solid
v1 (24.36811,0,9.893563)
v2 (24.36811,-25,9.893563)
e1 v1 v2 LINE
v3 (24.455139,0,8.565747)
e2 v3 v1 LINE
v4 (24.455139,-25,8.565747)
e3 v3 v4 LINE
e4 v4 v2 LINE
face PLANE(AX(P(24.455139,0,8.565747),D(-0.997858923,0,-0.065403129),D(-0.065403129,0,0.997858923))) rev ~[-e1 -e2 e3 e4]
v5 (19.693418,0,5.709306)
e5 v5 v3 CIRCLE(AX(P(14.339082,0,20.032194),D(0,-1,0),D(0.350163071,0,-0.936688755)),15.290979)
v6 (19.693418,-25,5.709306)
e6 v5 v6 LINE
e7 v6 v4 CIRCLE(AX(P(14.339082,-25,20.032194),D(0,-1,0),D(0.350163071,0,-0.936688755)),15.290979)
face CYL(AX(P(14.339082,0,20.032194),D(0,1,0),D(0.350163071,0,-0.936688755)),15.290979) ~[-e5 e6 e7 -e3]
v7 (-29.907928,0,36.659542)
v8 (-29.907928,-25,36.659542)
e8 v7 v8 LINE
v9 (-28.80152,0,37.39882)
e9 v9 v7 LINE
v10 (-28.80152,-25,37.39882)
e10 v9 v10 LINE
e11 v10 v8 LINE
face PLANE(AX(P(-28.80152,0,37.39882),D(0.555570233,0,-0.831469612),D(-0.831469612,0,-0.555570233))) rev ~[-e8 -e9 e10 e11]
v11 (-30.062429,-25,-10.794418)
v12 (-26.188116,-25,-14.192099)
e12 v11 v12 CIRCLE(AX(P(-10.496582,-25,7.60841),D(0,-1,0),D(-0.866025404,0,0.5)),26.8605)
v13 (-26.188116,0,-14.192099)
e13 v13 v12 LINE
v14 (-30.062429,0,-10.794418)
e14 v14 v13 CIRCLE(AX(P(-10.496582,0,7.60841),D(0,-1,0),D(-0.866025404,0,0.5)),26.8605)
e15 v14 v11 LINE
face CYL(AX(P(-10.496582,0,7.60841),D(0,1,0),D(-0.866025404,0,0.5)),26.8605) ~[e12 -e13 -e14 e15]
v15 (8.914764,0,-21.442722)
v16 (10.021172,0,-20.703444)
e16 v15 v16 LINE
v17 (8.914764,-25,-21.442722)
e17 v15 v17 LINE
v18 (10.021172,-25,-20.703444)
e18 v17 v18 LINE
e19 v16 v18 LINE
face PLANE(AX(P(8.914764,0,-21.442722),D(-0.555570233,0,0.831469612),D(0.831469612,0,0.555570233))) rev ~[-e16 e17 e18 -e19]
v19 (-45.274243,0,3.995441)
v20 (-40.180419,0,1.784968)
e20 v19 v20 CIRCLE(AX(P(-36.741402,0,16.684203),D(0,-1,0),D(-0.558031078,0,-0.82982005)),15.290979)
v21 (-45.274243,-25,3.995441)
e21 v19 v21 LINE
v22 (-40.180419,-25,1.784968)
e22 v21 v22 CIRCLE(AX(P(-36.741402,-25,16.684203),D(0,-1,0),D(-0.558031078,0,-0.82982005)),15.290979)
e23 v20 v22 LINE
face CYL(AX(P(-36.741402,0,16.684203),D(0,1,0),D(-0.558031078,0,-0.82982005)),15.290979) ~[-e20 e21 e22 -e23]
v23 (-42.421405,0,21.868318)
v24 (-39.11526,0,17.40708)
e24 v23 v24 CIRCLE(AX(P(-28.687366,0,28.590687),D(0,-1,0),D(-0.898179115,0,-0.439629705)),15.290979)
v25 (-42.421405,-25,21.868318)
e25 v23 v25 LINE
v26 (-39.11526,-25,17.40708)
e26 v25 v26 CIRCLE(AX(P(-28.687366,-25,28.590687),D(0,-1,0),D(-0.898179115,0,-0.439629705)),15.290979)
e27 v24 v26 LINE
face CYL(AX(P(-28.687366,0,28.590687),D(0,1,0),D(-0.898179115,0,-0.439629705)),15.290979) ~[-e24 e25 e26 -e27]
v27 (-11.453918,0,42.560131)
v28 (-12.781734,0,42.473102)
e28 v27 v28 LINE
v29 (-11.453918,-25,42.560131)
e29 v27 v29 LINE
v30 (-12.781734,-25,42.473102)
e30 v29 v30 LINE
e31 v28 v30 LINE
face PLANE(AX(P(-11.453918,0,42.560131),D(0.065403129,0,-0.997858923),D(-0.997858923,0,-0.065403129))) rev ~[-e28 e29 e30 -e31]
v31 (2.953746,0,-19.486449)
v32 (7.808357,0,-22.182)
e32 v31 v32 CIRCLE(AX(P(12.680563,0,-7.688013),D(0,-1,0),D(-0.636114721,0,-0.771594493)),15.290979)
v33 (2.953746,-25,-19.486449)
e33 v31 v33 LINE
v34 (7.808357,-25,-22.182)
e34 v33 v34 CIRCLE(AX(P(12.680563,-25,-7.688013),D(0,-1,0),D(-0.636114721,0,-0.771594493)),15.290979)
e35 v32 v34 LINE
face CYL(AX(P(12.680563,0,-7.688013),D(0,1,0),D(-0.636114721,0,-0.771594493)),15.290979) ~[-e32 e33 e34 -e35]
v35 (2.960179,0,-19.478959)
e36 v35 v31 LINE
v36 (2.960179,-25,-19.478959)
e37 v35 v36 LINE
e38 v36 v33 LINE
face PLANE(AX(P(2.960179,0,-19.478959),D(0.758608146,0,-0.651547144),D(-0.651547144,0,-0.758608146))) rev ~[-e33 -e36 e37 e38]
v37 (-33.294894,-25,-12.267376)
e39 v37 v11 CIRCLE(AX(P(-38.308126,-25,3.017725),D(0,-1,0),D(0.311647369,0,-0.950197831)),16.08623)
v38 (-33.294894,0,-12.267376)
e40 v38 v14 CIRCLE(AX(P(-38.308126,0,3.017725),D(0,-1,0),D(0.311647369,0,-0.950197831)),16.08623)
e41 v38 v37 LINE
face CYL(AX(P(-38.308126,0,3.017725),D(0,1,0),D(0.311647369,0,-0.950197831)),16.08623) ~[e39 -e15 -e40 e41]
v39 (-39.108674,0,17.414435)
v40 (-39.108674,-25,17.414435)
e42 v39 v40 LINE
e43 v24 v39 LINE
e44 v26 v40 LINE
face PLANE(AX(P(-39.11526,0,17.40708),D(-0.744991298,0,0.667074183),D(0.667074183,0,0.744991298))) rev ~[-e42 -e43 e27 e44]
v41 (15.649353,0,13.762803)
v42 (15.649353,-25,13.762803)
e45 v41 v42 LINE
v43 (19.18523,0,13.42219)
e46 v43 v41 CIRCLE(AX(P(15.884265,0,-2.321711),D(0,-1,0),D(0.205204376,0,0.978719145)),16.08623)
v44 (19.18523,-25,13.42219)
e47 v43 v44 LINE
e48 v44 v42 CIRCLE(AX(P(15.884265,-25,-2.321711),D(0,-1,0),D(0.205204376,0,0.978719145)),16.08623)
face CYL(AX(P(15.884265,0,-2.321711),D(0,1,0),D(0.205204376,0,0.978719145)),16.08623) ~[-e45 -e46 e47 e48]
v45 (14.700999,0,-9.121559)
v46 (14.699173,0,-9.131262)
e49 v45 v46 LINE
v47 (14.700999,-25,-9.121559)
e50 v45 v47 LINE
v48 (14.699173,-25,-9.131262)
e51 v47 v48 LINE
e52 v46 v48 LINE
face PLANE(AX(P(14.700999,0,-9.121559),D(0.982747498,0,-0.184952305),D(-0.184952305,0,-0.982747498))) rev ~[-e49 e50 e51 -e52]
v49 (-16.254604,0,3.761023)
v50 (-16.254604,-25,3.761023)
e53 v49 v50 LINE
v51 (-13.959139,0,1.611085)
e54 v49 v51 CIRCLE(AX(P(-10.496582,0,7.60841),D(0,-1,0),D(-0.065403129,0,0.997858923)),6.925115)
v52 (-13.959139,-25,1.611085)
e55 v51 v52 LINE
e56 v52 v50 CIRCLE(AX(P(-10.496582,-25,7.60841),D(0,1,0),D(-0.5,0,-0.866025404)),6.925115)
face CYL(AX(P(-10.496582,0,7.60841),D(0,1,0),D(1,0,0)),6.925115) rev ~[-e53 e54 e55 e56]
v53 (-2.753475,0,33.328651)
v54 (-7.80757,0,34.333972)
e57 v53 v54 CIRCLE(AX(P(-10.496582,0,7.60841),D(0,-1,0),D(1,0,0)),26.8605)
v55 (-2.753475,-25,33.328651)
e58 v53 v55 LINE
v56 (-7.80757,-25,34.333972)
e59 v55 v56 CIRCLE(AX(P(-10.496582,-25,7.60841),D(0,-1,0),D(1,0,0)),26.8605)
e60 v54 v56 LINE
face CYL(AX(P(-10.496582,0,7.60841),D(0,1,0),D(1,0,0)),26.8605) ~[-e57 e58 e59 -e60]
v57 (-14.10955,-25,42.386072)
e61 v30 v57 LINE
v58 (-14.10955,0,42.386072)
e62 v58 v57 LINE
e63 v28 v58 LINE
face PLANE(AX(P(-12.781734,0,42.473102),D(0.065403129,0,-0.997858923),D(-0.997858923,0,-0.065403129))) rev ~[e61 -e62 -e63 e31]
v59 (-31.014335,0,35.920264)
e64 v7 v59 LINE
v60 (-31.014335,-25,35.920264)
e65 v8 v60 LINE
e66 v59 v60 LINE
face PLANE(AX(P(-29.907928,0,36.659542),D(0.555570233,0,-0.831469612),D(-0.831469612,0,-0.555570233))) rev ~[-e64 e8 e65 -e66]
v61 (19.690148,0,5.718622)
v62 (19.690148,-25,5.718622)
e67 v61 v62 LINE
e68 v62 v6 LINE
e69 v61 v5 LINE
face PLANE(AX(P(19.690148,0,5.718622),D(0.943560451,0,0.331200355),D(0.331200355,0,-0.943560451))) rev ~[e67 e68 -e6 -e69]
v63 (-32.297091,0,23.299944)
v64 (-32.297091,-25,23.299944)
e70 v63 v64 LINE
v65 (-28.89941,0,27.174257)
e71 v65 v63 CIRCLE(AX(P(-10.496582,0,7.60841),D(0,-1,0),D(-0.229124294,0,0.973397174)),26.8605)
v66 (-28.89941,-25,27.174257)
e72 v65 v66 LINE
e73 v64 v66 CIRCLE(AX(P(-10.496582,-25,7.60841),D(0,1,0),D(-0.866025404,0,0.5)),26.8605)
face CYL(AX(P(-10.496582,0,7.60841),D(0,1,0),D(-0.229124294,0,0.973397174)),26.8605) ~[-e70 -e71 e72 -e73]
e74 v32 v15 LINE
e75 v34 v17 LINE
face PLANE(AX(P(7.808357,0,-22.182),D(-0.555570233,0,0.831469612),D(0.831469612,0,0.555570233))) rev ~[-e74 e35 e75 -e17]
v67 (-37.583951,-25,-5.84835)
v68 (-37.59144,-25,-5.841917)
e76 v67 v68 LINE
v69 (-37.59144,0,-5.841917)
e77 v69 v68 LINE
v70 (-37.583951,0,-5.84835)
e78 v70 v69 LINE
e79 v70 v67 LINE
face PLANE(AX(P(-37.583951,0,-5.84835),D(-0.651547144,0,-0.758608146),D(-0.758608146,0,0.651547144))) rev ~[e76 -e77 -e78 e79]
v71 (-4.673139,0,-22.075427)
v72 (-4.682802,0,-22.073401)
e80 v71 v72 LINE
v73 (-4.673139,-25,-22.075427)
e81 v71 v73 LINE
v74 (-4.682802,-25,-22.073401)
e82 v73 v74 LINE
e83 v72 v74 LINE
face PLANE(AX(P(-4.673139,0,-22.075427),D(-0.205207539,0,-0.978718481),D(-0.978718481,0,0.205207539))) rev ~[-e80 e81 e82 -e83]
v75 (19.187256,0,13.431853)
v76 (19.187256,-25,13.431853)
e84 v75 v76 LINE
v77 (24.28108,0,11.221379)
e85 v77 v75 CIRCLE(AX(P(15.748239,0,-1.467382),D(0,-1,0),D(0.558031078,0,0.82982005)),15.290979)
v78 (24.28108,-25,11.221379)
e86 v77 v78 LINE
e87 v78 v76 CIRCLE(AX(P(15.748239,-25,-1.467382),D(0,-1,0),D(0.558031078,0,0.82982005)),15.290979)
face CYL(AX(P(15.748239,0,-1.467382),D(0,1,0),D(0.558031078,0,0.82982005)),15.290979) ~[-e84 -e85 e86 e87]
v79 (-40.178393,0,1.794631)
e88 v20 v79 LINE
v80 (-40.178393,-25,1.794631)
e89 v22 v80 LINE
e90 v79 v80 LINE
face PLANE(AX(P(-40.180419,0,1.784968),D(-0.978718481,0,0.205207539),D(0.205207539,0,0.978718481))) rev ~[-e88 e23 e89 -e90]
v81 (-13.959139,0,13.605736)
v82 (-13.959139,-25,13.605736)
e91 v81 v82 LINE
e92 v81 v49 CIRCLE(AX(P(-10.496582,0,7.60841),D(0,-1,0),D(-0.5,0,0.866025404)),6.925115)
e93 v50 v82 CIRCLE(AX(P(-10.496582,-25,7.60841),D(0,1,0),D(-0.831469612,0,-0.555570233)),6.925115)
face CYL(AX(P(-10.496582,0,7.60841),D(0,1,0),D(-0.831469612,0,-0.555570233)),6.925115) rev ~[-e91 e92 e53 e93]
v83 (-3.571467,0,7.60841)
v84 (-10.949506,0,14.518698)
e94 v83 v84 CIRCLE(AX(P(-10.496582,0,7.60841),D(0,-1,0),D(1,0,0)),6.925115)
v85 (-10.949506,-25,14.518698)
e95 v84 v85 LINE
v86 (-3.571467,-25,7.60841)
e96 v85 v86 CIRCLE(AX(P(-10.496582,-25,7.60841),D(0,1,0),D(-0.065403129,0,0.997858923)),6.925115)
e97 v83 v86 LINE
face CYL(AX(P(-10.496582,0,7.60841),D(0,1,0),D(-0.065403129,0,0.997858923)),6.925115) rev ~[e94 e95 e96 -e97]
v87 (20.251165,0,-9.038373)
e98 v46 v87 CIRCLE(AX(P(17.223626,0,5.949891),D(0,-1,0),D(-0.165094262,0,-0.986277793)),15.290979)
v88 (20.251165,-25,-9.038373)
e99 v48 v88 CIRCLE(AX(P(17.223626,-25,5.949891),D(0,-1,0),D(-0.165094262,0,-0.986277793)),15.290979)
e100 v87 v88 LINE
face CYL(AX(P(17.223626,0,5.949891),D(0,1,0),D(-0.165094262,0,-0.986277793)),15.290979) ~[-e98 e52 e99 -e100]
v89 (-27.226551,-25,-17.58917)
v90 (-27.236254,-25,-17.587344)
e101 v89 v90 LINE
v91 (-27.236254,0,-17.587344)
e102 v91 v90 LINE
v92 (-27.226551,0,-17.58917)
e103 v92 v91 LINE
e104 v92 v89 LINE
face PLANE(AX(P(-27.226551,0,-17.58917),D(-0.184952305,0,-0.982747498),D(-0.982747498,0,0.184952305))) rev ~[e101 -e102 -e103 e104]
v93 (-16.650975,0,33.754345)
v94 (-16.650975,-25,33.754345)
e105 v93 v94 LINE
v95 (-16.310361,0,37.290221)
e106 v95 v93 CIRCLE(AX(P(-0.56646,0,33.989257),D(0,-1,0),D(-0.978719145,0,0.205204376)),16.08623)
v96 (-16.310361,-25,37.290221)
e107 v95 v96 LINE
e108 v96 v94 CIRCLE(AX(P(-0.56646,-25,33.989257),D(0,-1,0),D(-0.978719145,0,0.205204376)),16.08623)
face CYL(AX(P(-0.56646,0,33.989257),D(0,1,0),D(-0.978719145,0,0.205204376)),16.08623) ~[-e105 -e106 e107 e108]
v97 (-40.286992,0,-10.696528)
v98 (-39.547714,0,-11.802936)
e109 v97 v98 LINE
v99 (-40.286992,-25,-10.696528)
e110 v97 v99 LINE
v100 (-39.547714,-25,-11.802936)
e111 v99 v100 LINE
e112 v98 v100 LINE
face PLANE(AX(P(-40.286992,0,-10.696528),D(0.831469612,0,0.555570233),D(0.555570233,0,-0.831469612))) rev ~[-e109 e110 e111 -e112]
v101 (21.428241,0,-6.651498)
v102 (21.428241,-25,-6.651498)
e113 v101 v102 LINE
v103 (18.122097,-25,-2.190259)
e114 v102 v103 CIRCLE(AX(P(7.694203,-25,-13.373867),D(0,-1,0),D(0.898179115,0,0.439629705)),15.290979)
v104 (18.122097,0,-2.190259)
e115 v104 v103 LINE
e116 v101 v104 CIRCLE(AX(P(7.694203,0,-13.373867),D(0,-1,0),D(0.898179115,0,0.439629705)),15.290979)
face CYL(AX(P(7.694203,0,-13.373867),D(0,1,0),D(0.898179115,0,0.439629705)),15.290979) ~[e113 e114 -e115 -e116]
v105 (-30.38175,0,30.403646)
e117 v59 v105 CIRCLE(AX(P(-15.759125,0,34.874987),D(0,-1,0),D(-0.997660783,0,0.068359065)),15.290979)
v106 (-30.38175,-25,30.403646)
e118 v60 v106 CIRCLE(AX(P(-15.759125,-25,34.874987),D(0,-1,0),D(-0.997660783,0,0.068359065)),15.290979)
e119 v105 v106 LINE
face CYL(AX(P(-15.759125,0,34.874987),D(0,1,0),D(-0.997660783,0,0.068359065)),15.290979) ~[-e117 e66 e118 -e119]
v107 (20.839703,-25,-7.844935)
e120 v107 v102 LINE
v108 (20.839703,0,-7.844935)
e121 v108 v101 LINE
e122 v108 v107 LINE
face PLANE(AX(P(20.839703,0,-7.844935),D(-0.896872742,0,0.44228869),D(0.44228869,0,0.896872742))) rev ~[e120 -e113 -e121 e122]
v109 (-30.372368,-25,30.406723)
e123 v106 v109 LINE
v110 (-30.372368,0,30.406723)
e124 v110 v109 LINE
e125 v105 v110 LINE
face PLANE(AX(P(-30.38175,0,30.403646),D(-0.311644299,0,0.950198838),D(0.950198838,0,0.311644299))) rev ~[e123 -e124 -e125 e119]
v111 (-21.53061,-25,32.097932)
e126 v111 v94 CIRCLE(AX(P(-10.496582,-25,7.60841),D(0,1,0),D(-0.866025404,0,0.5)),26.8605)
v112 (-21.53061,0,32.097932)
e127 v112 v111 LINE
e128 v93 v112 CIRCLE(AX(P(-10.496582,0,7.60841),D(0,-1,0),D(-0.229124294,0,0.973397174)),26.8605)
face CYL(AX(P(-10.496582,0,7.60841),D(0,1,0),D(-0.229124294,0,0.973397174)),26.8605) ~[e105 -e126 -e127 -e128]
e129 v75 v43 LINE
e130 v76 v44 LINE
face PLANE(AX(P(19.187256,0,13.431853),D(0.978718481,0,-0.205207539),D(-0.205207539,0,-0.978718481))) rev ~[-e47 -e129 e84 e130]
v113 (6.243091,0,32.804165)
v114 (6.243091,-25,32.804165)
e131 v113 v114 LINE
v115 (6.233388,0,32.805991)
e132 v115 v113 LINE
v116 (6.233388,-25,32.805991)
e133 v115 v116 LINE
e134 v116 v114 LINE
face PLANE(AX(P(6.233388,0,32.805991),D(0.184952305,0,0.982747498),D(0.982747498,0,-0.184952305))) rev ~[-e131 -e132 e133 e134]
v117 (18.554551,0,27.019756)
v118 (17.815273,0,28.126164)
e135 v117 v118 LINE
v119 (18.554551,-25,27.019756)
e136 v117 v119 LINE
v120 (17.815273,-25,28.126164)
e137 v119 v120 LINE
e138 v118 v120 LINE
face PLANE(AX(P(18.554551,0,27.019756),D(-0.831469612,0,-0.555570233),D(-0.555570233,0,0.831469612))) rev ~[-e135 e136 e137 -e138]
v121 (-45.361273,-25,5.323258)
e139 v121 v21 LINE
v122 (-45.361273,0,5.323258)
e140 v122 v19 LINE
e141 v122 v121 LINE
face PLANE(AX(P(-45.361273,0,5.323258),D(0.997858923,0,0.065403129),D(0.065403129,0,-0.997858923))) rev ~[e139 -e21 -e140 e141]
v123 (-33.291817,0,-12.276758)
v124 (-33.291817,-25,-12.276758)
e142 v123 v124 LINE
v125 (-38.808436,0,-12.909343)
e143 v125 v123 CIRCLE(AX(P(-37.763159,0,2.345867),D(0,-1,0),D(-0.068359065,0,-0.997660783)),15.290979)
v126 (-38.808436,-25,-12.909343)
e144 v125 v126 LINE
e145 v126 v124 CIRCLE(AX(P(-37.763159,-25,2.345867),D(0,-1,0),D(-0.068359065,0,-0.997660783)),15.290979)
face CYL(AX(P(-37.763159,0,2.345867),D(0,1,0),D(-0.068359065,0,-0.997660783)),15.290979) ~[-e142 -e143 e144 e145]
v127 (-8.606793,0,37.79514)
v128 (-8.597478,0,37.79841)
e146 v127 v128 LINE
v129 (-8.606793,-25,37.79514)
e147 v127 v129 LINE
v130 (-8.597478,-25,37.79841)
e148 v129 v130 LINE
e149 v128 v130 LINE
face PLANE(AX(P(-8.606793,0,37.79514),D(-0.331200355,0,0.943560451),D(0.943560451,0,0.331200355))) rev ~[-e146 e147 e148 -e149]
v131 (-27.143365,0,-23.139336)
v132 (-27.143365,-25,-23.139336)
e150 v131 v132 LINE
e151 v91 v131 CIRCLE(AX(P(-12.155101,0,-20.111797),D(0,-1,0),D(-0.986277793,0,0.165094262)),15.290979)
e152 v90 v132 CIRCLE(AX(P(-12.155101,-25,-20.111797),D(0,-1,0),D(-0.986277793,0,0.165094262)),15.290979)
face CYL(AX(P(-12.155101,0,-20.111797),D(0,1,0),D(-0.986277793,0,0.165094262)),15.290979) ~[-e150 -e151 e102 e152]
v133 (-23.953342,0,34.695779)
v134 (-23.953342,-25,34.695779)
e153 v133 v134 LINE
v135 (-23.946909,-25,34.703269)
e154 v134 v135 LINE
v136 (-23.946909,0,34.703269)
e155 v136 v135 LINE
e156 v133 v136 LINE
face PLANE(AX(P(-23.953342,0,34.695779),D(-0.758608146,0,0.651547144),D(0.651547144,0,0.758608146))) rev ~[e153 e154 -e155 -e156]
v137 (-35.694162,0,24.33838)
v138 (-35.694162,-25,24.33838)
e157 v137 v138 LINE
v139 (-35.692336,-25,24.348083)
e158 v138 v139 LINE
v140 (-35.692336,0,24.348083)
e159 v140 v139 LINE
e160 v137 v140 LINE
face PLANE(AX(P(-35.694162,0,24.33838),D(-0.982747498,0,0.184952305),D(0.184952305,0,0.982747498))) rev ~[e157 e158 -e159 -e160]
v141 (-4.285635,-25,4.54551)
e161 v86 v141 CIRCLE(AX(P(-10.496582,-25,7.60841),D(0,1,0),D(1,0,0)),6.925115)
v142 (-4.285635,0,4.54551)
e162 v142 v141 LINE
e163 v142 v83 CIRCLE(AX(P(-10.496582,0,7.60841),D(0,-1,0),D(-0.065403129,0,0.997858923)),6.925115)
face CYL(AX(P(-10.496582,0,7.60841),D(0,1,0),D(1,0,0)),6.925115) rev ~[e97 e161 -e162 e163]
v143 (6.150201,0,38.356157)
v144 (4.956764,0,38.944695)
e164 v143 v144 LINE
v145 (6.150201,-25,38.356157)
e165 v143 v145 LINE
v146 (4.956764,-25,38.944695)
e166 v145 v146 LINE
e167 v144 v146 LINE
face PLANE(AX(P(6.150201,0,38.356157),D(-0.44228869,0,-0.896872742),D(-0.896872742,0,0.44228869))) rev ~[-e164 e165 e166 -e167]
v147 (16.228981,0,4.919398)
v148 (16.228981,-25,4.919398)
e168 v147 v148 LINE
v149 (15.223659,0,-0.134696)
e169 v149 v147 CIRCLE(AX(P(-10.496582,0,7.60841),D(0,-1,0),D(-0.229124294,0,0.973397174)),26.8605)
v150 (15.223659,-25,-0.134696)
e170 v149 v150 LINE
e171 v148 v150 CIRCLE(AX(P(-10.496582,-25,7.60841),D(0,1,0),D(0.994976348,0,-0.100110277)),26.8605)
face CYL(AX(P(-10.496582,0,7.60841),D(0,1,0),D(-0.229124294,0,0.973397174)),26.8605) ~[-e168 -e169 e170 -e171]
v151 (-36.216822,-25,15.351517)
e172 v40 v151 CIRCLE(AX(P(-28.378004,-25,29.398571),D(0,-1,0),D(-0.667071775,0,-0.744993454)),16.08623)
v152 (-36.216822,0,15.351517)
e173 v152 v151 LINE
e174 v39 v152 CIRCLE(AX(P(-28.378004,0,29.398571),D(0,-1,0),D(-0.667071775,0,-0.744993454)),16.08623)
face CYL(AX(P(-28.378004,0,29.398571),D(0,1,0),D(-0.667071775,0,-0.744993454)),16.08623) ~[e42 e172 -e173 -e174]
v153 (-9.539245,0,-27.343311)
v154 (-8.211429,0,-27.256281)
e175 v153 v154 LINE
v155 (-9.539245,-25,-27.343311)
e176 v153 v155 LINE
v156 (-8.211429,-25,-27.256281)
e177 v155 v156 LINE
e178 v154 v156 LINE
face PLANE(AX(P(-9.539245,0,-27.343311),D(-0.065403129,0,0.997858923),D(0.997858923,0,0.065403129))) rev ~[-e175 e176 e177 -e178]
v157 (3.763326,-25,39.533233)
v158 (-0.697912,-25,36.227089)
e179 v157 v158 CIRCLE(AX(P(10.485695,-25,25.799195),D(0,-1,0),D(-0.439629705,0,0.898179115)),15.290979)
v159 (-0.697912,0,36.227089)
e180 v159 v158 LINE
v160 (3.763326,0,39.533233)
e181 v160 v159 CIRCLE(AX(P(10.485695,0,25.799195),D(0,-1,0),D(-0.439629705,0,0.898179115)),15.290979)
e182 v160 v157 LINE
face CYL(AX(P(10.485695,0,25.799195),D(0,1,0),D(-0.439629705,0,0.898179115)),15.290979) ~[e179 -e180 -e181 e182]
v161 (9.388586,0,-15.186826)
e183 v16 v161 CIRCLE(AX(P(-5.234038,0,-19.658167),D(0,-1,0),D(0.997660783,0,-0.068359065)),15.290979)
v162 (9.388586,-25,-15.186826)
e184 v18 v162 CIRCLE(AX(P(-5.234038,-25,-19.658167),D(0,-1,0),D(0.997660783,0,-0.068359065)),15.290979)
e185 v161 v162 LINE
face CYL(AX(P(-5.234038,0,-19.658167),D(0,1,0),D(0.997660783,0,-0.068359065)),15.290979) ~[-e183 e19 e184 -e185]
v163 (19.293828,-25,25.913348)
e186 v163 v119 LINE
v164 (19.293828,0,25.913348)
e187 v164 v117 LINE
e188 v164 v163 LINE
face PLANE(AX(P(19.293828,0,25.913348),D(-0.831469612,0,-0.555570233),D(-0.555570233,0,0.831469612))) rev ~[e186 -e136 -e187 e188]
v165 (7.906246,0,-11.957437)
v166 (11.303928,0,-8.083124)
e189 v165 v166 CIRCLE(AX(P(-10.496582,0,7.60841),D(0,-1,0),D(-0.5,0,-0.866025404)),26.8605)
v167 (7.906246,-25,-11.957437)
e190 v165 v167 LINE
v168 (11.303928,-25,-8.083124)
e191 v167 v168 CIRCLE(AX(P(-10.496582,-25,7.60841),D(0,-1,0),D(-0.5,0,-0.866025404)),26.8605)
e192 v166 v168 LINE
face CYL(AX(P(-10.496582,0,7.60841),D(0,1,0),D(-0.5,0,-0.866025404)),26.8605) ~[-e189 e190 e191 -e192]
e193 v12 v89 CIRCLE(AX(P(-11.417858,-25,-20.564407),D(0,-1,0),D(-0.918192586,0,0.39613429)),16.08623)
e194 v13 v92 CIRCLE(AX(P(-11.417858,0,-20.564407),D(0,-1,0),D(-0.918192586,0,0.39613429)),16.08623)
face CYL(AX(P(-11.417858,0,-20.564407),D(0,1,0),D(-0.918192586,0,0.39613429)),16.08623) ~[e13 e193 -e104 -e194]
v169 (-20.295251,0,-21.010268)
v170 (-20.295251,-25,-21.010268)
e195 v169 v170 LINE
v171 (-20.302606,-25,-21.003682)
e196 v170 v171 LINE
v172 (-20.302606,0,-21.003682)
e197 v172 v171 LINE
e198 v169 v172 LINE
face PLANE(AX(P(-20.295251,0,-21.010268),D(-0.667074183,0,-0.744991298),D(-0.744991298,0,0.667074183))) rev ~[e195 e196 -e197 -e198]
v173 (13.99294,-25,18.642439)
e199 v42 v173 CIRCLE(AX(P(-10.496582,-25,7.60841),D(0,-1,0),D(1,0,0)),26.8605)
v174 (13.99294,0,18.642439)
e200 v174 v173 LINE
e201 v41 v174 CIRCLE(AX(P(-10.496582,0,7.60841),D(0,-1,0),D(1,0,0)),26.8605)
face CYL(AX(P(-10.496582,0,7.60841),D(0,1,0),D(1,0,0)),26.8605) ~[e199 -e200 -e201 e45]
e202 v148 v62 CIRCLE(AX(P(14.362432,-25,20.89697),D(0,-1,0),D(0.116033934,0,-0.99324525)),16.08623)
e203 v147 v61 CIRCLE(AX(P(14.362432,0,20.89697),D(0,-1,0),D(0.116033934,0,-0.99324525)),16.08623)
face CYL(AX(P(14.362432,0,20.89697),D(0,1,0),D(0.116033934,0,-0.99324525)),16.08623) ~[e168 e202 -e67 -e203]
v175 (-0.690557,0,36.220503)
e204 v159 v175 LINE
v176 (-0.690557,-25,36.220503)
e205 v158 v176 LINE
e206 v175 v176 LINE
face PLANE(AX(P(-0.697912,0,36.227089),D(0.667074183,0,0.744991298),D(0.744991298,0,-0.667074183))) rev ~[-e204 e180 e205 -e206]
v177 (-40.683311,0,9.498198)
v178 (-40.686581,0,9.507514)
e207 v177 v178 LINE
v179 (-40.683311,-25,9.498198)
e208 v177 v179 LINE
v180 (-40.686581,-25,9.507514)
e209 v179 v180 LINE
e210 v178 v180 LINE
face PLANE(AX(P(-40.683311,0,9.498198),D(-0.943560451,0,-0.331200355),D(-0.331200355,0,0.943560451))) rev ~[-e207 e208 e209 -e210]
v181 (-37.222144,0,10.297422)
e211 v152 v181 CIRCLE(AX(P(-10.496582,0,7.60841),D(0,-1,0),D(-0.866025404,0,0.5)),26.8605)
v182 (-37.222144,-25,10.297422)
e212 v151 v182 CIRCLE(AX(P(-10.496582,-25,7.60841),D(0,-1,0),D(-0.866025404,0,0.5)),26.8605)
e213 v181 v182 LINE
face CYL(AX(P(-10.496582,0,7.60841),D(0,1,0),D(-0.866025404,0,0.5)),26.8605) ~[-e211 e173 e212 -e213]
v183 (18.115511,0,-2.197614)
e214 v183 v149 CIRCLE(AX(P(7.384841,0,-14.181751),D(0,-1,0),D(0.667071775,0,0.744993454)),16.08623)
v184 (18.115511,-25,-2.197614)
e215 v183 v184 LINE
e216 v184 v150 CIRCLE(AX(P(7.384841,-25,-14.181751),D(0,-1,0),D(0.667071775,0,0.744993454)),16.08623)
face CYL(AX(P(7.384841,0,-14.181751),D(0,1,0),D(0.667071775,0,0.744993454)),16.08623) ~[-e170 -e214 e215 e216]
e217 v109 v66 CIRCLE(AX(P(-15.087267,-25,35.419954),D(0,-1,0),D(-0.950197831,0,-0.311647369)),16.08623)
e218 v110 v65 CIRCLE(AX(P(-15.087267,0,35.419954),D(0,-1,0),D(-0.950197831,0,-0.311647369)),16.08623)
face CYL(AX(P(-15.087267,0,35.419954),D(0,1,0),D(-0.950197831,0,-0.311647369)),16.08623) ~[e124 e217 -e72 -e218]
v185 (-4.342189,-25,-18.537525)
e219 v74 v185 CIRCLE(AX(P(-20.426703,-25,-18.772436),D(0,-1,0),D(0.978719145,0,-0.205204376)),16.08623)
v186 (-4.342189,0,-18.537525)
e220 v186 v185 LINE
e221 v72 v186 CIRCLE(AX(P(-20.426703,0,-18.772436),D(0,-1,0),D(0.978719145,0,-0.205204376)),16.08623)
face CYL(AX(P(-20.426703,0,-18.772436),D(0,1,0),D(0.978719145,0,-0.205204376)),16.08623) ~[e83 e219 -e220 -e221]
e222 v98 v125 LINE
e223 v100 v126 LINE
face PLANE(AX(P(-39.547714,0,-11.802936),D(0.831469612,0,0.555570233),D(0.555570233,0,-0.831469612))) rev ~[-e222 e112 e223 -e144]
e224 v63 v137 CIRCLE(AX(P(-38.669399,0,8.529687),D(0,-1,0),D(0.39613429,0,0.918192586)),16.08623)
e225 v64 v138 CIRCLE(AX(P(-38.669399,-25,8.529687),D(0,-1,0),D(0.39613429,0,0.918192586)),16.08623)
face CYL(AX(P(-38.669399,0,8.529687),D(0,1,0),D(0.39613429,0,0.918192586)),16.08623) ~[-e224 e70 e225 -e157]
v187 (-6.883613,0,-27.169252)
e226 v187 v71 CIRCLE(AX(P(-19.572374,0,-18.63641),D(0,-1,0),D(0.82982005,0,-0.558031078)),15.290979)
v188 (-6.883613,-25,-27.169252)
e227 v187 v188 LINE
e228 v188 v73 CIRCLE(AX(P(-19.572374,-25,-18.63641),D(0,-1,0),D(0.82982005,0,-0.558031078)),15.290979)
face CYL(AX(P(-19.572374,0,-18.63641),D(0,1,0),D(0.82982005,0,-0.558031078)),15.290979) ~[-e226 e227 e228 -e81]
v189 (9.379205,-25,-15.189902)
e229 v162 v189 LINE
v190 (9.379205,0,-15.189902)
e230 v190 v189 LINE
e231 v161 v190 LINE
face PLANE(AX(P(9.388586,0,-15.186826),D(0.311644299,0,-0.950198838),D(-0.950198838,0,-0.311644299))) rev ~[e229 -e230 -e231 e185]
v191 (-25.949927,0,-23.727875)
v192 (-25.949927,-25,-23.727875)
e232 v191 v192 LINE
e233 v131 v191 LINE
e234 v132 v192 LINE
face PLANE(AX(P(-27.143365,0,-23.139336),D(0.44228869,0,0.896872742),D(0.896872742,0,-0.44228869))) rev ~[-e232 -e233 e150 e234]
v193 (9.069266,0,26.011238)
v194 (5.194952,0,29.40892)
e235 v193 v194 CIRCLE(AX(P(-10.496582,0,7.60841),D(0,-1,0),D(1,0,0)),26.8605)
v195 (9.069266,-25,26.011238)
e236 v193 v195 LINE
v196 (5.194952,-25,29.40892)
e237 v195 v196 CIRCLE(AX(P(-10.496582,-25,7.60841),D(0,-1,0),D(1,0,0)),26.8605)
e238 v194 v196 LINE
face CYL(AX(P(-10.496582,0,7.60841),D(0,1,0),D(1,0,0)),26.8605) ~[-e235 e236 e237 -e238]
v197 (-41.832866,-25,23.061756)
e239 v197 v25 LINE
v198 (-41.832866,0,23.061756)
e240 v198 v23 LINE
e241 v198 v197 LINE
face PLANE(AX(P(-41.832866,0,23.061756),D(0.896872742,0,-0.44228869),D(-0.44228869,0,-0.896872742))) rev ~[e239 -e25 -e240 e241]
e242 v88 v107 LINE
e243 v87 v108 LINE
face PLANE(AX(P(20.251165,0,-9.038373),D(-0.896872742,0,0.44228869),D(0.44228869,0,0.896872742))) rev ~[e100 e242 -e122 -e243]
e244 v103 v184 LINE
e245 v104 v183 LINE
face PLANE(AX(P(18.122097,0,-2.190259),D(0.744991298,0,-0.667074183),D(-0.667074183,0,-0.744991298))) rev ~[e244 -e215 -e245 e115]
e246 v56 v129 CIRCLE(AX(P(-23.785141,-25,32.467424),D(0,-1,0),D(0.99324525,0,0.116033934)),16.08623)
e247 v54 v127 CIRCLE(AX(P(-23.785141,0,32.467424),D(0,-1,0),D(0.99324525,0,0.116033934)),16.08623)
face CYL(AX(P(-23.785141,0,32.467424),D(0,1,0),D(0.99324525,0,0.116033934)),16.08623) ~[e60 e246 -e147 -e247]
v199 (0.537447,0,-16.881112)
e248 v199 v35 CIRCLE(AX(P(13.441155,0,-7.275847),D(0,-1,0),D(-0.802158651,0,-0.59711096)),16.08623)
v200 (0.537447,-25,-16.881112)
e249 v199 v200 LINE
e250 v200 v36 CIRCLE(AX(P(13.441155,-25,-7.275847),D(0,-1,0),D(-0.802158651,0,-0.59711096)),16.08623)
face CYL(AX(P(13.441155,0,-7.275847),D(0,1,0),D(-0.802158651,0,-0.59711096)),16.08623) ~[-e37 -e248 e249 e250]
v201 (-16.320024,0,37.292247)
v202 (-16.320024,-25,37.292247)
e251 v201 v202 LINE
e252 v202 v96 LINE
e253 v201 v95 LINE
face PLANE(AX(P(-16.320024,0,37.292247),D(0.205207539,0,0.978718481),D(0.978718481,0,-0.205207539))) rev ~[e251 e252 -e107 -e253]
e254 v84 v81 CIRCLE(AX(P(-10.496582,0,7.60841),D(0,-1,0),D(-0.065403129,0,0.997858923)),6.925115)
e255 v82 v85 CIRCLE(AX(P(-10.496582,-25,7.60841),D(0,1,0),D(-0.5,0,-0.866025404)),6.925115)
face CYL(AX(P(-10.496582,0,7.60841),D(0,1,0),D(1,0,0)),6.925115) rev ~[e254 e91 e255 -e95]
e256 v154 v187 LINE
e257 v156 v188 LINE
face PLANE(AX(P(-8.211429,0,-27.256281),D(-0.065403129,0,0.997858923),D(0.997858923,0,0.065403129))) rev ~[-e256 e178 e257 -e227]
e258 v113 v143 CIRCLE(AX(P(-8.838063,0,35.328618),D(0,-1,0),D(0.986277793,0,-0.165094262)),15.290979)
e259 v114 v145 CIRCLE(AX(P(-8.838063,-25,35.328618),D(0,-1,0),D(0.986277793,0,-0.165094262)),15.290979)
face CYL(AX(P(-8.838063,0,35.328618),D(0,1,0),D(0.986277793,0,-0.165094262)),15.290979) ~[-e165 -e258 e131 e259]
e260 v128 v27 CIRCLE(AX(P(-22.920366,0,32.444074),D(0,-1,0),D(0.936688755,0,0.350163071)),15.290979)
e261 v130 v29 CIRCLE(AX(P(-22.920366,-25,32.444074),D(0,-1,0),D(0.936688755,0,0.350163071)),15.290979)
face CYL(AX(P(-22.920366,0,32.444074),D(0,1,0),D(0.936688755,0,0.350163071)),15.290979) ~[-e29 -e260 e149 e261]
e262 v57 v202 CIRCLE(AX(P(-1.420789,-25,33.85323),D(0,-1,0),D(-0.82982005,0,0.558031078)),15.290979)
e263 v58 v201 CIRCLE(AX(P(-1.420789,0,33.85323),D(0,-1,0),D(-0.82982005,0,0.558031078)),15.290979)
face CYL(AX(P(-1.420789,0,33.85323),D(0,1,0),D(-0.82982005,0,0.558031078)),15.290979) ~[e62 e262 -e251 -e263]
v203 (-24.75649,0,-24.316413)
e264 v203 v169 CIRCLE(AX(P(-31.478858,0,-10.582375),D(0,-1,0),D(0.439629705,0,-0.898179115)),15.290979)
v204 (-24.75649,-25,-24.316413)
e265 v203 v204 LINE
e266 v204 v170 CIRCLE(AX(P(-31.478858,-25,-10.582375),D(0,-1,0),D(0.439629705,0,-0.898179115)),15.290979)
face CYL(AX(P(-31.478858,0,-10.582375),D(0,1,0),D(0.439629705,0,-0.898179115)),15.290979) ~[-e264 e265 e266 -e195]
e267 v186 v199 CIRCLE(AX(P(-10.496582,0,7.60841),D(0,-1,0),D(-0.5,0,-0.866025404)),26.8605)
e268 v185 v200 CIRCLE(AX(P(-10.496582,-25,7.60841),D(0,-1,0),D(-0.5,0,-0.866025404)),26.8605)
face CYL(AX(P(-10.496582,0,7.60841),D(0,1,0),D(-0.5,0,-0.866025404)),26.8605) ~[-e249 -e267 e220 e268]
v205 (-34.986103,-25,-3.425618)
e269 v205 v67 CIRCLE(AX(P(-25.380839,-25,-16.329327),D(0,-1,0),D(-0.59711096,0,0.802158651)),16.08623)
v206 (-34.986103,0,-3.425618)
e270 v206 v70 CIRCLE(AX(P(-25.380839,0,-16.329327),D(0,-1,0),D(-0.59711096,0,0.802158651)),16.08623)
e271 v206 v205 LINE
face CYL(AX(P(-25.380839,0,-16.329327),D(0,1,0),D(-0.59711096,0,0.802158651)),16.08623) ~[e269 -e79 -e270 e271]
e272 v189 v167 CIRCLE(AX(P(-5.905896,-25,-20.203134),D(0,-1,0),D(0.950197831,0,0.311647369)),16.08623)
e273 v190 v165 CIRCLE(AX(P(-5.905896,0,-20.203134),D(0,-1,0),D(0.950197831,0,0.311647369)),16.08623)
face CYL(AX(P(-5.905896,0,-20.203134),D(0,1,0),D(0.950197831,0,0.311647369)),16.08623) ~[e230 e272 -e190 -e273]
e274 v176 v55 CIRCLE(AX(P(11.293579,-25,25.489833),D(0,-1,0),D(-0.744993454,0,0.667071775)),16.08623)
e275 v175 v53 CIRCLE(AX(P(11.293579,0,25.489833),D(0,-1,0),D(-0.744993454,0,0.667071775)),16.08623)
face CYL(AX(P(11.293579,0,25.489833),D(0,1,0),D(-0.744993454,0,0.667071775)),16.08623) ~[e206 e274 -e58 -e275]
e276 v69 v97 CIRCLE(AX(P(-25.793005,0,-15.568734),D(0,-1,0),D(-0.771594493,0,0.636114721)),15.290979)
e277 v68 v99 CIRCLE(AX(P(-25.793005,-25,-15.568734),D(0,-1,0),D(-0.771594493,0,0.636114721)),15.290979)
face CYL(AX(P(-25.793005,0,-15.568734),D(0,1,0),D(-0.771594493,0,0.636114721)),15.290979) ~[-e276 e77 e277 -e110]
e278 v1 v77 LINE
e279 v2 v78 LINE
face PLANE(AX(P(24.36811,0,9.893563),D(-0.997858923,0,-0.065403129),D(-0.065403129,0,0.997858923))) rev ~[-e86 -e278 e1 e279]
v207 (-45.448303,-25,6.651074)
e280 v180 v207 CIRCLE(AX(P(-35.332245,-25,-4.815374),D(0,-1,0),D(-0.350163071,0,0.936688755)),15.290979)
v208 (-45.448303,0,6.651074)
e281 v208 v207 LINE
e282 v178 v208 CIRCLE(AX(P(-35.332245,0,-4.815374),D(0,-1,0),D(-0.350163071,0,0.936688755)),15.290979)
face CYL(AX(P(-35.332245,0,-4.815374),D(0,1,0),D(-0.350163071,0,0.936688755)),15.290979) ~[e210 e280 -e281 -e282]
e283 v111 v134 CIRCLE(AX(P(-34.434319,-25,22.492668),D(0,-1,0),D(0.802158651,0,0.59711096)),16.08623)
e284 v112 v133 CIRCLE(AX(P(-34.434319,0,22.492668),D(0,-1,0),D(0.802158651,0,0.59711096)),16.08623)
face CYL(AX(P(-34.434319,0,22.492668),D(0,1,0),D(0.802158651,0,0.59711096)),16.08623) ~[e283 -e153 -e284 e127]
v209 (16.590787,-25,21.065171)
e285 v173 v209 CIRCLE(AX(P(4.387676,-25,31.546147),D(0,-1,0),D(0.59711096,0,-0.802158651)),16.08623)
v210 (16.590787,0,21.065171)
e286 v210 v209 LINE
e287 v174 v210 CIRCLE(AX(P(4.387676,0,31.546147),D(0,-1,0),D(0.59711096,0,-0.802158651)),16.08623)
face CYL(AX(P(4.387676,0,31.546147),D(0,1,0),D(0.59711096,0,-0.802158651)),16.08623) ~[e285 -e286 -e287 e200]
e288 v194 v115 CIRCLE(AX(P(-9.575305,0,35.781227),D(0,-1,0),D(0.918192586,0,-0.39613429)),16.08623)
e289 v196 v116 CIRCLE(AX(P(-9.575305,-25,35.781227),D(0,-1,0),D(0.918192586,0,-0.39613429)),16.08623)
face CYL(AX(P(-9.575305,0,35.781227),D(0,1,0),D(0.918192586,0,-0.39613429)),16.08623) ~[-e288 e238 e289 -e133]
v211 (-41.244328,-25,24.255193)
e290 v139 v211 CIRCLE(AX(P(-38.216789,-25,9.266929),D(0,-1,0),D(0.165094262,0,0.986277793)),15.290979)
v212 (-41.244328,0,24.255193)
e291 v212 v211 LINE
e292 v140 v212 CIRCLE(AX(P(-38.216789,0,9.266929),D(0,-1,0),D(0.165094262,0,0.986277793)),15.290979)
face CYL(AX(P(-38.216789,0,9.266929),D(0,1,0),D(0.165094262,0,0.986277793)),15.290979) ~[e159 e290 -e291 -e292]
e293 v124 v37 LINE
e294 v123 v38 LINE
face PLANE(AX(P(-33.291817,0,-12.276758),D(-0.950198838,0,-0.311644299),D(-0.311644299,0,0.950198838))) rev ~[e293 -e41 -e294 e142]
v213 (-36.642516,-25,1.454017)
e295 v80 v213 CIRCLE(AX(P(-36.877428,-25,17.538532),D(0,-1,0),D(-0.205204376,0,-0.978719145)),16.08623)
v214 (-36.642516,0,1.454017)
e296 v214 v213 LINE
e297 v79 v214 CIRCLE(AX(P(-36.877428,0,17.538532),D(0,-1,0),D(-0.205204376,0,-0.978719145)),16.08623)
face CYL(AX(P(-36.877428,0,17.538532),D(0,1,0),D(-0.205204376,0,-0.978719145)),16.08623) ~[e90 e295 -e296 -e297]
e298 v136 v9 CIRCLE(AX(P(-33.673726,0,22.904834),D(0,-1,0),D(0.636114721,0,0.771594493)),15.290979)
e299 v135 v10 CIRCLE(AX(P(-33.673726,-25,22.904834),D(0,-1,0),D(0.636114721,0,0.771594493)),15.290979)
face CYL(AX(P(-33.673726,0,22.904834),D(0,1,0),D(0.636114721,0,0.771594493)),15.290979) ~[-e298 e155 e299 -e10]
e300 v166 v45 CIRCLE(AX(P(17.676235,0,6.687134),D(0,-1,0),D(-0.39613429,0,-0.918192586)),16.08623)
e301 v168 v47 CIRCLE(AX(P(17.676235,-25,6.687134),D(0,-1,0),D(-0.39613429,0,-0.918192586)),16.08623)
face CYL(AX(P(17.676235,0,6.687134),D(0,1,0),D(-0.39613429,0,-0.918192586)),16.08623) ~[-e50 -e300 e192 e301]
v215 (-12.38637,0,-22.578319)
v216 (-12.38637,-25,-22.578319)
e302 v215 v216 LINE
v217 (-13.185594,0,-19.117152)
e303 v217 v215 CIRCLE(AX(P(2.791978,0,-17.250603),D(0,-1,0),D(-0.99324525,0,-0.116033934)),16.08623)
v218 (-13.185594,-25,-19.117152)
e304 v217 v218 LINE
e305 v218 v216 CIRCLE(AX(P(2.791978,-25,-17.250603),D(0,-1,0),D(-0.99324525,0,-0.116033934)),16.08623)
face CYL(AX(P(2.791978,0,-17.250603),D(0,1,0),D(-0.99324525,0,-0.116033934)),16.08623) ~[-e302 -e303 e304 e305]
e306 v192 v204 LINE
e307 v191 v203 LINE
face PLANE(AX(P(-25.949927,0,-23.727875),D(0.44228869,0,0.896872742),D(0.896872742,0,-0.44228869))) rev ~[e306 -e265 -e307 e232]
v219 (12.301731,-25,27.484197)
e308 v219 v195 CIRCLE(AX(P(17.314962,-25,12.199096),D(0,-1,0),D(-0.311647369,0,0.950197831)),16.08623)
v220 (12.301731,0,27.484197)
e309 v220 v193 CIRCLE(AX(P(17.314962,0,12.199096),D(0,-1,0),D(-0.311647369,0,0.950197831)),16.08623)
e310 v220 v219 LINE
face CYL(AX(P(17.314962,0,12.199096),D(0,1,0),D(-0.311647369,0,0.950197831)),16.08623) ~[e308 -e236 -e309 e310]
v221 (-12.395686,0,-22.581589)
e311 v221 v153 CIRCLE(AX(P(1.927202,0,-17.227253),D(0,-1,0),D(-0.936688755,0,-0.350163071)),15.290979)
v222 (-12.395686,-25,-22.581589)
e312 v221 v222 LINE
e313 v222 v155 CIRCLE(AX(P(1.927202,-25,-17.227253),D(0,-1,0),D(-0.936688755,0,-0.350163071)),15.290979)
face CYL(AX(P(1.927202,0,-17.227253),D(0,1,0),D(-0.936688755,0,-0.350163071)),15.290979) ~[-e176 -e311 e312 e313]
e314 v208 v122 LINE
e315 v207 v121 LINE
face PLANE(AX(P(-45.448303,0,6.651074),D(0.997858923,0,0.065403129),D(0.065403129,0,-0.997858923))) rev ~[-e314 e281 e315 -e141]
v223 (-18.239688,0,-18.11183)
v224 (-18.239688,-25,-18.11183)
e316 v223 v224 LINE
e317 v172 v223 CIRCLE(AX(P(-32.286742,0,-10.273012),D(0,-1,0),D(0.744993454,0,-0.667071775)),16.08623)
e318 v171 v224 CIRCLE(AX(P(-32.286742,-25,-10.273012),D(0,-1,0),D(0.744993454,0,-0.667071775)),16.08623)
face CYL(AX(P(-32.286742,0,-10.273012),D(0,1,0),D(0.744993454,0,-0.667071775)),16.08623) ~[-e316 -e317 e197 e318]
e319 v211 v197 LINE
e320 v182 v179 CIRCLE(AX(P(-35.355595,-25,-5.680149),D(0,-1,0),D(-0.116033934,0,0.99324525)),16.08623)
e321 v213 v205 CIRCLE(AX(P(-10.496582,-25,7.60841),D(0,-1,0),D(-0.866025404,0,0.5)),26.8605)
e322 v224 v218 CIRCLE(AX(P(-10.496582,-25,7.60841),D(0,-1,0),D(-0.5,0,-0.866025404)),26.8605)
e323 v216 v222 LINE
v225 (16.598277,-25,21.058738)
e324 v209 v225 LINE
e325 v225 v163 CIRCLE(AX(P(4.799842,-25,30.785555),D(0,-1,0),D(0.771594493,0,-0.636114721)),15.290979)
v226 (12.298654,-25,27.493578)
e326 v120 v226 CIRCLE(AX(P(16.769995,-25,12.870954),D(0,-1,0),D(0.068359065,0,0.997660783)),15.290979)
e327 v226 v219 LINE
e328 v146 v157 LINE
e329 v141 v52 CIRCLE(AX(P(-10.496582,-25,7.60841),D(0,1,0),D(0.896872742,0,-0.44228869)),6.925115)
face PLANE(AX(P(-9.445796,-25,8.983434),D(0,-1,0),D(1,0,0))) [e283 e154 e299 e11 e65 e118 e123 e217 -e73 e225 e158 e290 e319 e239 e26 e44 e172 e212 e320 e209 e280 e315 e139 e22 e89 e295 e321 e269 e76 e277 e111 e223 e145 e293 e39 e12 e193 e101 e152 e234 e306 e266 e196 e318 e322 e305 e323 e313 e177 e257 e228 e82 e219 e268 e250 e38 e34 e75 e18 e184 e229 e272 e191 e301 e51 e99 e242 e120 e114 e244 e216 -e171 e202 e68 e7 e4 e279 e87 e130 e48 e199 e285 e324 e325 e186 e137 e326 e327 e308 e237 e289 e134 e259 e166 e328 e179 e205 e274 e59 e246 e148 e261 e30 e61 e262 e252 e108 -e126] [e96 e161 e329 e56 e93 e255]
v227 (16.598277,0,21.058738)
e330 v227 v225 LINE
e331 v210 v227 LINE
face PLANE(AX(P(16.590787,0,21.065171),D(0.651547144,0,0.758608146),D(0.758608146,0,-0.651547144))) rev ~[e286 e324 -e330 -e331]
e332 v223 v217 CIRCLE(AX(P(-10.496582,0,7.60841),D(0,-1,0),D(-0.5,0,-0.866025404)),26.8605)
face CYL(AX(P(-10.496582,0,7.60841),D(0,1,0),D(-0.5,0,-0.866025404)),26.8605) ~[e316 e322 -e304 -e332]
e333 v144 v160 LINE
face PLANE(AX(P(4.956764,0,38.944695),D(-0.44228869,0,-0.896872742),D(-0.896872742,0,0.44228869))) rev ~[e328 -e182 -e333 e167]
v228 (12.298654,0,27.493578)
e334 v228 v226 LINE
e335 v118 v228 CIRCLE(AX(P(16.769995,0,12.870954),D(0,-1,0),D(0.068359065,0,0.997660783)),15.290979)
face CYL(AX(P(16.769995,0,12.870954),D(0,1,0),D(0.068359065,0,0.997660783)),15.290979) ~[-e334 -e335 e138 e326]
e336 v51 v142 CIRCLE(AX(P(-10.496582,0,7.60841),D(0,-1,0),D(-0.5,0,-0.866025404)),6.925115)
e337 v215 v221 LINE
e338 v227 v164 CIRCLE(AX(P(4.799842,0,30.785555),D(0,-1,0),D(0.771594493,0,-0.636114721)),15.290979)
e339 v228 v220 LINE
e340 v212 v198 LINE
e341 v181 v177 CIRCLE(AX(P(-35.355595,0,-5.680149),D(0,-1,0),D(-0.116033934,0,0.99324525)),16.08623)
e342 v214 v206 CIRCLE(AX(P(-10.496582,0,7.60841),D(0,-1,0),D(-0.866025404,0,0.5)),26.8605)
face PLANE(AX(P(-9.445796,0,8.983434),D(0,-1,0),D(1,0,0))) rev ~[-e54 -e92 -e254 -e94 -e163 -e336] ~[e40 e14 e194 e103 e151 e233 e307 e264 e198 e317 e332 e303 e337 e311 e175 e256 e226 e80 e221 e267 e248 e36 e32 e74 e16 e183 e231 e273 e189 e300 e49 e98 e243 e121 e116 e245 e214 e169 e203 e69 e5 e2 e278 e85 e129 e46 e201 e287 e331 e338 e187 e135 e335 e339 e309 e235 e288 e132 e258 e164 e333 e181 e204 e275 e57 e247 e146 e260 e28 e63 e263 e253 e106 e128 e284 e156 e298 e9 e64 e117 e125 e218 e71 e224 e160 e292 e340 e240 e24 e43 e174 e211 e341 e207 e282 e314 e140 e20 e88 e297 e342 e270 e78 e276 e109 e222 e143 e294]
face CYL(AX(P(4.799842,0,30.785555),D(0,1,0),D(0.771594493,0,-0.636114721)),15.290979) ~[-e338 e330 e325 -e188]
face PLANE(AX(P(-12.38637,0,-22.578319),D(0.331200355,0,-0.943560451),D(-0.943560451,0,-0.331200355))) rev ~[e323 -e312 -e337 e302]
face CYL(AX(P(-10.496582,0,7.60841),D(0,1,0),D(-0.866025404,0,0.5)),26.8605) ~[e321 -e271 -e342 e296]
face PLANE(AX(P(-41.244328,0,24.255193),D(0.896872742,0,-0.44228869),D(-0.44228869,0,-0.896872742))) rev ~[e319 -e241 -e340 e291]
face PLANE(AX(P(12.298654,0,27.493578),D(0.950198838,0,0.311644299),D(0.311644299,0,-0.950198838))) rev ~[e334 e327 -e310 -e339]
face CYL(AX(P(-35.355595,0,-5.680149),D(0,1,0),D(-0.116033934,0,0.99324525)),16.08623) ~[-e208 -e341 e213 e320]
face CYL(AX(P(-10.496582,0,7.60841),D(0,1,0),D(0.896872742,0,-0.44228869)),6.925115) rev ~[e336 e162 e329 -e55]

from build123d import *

# Parameters (mm, degrees)
F1_DEPTH = 25
F2_COUNT = 12


with BuildPart() as f1:
    # F0 (on Front) → F1 (new body)
    with BuildSketch(Plane.XZ):
        with BuildLine():
            ThreePointArc((-16.6509747505, 33.7543450296), (-27.1725581608, -13.448613953), (16.3639183414, 7.6084102419))
            ThreePointArc((16.3639183414, 7.6084102419), (9.424696785, 25.625877473), (-7.8075695626, 34.3339724287))
            ThreePointArc((-7.8075695626, 34.3339724287), (-10.0288510811, 34.4648375612), (-12.2533424113, 34.4113998496))
            ThreePointArc((-12.2533424113, 34.4113998496), (-14.4657779308, 34.1740260113), (-16.6509747505, 33.7543450296))
        make_face()
        with BuildLine():
            ThreePointArc((11.4594258414, 7.6084102419), (-25.5055393688, -8.4164908122), (-11.9325732545, 29.5174082445))
            ThreePointArc((-11.9325732545, 29.5174082445), (4.5123760516, 23.6333112961), (11.4594258414, 7.6084102419))
        make_face(mode=Mode.SUBTRACT)
        with BuildLine():
            ThreePointArc((11.4594258414, 7.6084102419), (4.5123760516, 23.6333112961), (-11.9325732545, 29.5174082445))
            ThreePointArc((-11.9325732545, 29.5174082445), (-25.5055393688, -8.4164908122), (11.4594258414, 7.6084102419))
        make_face()
        with BuildLine():
            ThreePointArc((-3.5714667078, 7.6084102419), (-15.2305369296, 2.5540176401), (-10.9495058467, 14.51869799))
            ThreePointArc((-10.9495058467, 14.51869799), (-5.7626263876, 12.6628028438), (-3.5714667078, 7.6084102419))
        make_face(mode=Mode.SUBTRACT)
        with BuildLine():
            ThreePointArc((-16.3103613436, 37.2902214427), (-16.5785686452, 35.5317140681), (-16.6509747505, 33.7543450296))
            ThreePointArc((-16.6509747505, 33.7543450296), (-14.4657779308, 34.1740260113), (-12.2533424113, 34.4113998496))
            Line((-12.2533424113, 34.4113998496), (-12.5728145113, 39.2856021927))
            Line((-12.5728145113, 39.2856021927), (-12.7817342645, 42.4731016662))
            Line((-12.7817342645, 42.4731016662), (-14.1095504339, 42.3860719965))
            ThreePointArc((-14.1095504339, 42.3860719965), (-15.4479467452, 39.9403396391), (-16.3200243922, 37.2922474905))
            Line((-16.3200243922, 37.2922474905), (-16.3103613436, 37.2902214427))
        make_face()
        with BuildLine():
            ThreePointArc((-12.2533424113, 34.4113998496), (-10.0288510811, 34.4648375612), (-7.8075695626, 34.3339724287))
            ThreePointArc((-7.8075695626, 34.3339724287), (-8.1113494364, 36.0866849355), (-8.606793459, 37.7951399579))
            Line((-8.606793459, 37.7951399579), (-8.5974775314, 37.7984099535))
            ThreePointArc((-8.5974775314, 37.7984099535), (-9.807739818, 40.3100183321), (-11.4539180952, 42.5601313359))
            Line((-11.4539180952, 42.5601313359), (-12.7817342645, 42.4731016662))
            Line((-12.7817342645, 42.4731016662), (-12.5728145113, 39.2856021927))
            Line((-12.5728145113, 39.2856021927), (-12.2533424113, 34.4113998496))
        make_face()
    extrude(amount=F1_DEPTH)

    # F2: F1 ×12 about axis
    f2_axis = Axis((-10.4965816586, 0, 7.6084102419), (0, 1, 0))


with BuildPart() as f1_1:
    add(f1.part)
    for i in range(1, F2_COUNT):
        add(f1.part.rotate(f2_axis, i * 360 / F2_COUNT))


solid = f1_1.part
